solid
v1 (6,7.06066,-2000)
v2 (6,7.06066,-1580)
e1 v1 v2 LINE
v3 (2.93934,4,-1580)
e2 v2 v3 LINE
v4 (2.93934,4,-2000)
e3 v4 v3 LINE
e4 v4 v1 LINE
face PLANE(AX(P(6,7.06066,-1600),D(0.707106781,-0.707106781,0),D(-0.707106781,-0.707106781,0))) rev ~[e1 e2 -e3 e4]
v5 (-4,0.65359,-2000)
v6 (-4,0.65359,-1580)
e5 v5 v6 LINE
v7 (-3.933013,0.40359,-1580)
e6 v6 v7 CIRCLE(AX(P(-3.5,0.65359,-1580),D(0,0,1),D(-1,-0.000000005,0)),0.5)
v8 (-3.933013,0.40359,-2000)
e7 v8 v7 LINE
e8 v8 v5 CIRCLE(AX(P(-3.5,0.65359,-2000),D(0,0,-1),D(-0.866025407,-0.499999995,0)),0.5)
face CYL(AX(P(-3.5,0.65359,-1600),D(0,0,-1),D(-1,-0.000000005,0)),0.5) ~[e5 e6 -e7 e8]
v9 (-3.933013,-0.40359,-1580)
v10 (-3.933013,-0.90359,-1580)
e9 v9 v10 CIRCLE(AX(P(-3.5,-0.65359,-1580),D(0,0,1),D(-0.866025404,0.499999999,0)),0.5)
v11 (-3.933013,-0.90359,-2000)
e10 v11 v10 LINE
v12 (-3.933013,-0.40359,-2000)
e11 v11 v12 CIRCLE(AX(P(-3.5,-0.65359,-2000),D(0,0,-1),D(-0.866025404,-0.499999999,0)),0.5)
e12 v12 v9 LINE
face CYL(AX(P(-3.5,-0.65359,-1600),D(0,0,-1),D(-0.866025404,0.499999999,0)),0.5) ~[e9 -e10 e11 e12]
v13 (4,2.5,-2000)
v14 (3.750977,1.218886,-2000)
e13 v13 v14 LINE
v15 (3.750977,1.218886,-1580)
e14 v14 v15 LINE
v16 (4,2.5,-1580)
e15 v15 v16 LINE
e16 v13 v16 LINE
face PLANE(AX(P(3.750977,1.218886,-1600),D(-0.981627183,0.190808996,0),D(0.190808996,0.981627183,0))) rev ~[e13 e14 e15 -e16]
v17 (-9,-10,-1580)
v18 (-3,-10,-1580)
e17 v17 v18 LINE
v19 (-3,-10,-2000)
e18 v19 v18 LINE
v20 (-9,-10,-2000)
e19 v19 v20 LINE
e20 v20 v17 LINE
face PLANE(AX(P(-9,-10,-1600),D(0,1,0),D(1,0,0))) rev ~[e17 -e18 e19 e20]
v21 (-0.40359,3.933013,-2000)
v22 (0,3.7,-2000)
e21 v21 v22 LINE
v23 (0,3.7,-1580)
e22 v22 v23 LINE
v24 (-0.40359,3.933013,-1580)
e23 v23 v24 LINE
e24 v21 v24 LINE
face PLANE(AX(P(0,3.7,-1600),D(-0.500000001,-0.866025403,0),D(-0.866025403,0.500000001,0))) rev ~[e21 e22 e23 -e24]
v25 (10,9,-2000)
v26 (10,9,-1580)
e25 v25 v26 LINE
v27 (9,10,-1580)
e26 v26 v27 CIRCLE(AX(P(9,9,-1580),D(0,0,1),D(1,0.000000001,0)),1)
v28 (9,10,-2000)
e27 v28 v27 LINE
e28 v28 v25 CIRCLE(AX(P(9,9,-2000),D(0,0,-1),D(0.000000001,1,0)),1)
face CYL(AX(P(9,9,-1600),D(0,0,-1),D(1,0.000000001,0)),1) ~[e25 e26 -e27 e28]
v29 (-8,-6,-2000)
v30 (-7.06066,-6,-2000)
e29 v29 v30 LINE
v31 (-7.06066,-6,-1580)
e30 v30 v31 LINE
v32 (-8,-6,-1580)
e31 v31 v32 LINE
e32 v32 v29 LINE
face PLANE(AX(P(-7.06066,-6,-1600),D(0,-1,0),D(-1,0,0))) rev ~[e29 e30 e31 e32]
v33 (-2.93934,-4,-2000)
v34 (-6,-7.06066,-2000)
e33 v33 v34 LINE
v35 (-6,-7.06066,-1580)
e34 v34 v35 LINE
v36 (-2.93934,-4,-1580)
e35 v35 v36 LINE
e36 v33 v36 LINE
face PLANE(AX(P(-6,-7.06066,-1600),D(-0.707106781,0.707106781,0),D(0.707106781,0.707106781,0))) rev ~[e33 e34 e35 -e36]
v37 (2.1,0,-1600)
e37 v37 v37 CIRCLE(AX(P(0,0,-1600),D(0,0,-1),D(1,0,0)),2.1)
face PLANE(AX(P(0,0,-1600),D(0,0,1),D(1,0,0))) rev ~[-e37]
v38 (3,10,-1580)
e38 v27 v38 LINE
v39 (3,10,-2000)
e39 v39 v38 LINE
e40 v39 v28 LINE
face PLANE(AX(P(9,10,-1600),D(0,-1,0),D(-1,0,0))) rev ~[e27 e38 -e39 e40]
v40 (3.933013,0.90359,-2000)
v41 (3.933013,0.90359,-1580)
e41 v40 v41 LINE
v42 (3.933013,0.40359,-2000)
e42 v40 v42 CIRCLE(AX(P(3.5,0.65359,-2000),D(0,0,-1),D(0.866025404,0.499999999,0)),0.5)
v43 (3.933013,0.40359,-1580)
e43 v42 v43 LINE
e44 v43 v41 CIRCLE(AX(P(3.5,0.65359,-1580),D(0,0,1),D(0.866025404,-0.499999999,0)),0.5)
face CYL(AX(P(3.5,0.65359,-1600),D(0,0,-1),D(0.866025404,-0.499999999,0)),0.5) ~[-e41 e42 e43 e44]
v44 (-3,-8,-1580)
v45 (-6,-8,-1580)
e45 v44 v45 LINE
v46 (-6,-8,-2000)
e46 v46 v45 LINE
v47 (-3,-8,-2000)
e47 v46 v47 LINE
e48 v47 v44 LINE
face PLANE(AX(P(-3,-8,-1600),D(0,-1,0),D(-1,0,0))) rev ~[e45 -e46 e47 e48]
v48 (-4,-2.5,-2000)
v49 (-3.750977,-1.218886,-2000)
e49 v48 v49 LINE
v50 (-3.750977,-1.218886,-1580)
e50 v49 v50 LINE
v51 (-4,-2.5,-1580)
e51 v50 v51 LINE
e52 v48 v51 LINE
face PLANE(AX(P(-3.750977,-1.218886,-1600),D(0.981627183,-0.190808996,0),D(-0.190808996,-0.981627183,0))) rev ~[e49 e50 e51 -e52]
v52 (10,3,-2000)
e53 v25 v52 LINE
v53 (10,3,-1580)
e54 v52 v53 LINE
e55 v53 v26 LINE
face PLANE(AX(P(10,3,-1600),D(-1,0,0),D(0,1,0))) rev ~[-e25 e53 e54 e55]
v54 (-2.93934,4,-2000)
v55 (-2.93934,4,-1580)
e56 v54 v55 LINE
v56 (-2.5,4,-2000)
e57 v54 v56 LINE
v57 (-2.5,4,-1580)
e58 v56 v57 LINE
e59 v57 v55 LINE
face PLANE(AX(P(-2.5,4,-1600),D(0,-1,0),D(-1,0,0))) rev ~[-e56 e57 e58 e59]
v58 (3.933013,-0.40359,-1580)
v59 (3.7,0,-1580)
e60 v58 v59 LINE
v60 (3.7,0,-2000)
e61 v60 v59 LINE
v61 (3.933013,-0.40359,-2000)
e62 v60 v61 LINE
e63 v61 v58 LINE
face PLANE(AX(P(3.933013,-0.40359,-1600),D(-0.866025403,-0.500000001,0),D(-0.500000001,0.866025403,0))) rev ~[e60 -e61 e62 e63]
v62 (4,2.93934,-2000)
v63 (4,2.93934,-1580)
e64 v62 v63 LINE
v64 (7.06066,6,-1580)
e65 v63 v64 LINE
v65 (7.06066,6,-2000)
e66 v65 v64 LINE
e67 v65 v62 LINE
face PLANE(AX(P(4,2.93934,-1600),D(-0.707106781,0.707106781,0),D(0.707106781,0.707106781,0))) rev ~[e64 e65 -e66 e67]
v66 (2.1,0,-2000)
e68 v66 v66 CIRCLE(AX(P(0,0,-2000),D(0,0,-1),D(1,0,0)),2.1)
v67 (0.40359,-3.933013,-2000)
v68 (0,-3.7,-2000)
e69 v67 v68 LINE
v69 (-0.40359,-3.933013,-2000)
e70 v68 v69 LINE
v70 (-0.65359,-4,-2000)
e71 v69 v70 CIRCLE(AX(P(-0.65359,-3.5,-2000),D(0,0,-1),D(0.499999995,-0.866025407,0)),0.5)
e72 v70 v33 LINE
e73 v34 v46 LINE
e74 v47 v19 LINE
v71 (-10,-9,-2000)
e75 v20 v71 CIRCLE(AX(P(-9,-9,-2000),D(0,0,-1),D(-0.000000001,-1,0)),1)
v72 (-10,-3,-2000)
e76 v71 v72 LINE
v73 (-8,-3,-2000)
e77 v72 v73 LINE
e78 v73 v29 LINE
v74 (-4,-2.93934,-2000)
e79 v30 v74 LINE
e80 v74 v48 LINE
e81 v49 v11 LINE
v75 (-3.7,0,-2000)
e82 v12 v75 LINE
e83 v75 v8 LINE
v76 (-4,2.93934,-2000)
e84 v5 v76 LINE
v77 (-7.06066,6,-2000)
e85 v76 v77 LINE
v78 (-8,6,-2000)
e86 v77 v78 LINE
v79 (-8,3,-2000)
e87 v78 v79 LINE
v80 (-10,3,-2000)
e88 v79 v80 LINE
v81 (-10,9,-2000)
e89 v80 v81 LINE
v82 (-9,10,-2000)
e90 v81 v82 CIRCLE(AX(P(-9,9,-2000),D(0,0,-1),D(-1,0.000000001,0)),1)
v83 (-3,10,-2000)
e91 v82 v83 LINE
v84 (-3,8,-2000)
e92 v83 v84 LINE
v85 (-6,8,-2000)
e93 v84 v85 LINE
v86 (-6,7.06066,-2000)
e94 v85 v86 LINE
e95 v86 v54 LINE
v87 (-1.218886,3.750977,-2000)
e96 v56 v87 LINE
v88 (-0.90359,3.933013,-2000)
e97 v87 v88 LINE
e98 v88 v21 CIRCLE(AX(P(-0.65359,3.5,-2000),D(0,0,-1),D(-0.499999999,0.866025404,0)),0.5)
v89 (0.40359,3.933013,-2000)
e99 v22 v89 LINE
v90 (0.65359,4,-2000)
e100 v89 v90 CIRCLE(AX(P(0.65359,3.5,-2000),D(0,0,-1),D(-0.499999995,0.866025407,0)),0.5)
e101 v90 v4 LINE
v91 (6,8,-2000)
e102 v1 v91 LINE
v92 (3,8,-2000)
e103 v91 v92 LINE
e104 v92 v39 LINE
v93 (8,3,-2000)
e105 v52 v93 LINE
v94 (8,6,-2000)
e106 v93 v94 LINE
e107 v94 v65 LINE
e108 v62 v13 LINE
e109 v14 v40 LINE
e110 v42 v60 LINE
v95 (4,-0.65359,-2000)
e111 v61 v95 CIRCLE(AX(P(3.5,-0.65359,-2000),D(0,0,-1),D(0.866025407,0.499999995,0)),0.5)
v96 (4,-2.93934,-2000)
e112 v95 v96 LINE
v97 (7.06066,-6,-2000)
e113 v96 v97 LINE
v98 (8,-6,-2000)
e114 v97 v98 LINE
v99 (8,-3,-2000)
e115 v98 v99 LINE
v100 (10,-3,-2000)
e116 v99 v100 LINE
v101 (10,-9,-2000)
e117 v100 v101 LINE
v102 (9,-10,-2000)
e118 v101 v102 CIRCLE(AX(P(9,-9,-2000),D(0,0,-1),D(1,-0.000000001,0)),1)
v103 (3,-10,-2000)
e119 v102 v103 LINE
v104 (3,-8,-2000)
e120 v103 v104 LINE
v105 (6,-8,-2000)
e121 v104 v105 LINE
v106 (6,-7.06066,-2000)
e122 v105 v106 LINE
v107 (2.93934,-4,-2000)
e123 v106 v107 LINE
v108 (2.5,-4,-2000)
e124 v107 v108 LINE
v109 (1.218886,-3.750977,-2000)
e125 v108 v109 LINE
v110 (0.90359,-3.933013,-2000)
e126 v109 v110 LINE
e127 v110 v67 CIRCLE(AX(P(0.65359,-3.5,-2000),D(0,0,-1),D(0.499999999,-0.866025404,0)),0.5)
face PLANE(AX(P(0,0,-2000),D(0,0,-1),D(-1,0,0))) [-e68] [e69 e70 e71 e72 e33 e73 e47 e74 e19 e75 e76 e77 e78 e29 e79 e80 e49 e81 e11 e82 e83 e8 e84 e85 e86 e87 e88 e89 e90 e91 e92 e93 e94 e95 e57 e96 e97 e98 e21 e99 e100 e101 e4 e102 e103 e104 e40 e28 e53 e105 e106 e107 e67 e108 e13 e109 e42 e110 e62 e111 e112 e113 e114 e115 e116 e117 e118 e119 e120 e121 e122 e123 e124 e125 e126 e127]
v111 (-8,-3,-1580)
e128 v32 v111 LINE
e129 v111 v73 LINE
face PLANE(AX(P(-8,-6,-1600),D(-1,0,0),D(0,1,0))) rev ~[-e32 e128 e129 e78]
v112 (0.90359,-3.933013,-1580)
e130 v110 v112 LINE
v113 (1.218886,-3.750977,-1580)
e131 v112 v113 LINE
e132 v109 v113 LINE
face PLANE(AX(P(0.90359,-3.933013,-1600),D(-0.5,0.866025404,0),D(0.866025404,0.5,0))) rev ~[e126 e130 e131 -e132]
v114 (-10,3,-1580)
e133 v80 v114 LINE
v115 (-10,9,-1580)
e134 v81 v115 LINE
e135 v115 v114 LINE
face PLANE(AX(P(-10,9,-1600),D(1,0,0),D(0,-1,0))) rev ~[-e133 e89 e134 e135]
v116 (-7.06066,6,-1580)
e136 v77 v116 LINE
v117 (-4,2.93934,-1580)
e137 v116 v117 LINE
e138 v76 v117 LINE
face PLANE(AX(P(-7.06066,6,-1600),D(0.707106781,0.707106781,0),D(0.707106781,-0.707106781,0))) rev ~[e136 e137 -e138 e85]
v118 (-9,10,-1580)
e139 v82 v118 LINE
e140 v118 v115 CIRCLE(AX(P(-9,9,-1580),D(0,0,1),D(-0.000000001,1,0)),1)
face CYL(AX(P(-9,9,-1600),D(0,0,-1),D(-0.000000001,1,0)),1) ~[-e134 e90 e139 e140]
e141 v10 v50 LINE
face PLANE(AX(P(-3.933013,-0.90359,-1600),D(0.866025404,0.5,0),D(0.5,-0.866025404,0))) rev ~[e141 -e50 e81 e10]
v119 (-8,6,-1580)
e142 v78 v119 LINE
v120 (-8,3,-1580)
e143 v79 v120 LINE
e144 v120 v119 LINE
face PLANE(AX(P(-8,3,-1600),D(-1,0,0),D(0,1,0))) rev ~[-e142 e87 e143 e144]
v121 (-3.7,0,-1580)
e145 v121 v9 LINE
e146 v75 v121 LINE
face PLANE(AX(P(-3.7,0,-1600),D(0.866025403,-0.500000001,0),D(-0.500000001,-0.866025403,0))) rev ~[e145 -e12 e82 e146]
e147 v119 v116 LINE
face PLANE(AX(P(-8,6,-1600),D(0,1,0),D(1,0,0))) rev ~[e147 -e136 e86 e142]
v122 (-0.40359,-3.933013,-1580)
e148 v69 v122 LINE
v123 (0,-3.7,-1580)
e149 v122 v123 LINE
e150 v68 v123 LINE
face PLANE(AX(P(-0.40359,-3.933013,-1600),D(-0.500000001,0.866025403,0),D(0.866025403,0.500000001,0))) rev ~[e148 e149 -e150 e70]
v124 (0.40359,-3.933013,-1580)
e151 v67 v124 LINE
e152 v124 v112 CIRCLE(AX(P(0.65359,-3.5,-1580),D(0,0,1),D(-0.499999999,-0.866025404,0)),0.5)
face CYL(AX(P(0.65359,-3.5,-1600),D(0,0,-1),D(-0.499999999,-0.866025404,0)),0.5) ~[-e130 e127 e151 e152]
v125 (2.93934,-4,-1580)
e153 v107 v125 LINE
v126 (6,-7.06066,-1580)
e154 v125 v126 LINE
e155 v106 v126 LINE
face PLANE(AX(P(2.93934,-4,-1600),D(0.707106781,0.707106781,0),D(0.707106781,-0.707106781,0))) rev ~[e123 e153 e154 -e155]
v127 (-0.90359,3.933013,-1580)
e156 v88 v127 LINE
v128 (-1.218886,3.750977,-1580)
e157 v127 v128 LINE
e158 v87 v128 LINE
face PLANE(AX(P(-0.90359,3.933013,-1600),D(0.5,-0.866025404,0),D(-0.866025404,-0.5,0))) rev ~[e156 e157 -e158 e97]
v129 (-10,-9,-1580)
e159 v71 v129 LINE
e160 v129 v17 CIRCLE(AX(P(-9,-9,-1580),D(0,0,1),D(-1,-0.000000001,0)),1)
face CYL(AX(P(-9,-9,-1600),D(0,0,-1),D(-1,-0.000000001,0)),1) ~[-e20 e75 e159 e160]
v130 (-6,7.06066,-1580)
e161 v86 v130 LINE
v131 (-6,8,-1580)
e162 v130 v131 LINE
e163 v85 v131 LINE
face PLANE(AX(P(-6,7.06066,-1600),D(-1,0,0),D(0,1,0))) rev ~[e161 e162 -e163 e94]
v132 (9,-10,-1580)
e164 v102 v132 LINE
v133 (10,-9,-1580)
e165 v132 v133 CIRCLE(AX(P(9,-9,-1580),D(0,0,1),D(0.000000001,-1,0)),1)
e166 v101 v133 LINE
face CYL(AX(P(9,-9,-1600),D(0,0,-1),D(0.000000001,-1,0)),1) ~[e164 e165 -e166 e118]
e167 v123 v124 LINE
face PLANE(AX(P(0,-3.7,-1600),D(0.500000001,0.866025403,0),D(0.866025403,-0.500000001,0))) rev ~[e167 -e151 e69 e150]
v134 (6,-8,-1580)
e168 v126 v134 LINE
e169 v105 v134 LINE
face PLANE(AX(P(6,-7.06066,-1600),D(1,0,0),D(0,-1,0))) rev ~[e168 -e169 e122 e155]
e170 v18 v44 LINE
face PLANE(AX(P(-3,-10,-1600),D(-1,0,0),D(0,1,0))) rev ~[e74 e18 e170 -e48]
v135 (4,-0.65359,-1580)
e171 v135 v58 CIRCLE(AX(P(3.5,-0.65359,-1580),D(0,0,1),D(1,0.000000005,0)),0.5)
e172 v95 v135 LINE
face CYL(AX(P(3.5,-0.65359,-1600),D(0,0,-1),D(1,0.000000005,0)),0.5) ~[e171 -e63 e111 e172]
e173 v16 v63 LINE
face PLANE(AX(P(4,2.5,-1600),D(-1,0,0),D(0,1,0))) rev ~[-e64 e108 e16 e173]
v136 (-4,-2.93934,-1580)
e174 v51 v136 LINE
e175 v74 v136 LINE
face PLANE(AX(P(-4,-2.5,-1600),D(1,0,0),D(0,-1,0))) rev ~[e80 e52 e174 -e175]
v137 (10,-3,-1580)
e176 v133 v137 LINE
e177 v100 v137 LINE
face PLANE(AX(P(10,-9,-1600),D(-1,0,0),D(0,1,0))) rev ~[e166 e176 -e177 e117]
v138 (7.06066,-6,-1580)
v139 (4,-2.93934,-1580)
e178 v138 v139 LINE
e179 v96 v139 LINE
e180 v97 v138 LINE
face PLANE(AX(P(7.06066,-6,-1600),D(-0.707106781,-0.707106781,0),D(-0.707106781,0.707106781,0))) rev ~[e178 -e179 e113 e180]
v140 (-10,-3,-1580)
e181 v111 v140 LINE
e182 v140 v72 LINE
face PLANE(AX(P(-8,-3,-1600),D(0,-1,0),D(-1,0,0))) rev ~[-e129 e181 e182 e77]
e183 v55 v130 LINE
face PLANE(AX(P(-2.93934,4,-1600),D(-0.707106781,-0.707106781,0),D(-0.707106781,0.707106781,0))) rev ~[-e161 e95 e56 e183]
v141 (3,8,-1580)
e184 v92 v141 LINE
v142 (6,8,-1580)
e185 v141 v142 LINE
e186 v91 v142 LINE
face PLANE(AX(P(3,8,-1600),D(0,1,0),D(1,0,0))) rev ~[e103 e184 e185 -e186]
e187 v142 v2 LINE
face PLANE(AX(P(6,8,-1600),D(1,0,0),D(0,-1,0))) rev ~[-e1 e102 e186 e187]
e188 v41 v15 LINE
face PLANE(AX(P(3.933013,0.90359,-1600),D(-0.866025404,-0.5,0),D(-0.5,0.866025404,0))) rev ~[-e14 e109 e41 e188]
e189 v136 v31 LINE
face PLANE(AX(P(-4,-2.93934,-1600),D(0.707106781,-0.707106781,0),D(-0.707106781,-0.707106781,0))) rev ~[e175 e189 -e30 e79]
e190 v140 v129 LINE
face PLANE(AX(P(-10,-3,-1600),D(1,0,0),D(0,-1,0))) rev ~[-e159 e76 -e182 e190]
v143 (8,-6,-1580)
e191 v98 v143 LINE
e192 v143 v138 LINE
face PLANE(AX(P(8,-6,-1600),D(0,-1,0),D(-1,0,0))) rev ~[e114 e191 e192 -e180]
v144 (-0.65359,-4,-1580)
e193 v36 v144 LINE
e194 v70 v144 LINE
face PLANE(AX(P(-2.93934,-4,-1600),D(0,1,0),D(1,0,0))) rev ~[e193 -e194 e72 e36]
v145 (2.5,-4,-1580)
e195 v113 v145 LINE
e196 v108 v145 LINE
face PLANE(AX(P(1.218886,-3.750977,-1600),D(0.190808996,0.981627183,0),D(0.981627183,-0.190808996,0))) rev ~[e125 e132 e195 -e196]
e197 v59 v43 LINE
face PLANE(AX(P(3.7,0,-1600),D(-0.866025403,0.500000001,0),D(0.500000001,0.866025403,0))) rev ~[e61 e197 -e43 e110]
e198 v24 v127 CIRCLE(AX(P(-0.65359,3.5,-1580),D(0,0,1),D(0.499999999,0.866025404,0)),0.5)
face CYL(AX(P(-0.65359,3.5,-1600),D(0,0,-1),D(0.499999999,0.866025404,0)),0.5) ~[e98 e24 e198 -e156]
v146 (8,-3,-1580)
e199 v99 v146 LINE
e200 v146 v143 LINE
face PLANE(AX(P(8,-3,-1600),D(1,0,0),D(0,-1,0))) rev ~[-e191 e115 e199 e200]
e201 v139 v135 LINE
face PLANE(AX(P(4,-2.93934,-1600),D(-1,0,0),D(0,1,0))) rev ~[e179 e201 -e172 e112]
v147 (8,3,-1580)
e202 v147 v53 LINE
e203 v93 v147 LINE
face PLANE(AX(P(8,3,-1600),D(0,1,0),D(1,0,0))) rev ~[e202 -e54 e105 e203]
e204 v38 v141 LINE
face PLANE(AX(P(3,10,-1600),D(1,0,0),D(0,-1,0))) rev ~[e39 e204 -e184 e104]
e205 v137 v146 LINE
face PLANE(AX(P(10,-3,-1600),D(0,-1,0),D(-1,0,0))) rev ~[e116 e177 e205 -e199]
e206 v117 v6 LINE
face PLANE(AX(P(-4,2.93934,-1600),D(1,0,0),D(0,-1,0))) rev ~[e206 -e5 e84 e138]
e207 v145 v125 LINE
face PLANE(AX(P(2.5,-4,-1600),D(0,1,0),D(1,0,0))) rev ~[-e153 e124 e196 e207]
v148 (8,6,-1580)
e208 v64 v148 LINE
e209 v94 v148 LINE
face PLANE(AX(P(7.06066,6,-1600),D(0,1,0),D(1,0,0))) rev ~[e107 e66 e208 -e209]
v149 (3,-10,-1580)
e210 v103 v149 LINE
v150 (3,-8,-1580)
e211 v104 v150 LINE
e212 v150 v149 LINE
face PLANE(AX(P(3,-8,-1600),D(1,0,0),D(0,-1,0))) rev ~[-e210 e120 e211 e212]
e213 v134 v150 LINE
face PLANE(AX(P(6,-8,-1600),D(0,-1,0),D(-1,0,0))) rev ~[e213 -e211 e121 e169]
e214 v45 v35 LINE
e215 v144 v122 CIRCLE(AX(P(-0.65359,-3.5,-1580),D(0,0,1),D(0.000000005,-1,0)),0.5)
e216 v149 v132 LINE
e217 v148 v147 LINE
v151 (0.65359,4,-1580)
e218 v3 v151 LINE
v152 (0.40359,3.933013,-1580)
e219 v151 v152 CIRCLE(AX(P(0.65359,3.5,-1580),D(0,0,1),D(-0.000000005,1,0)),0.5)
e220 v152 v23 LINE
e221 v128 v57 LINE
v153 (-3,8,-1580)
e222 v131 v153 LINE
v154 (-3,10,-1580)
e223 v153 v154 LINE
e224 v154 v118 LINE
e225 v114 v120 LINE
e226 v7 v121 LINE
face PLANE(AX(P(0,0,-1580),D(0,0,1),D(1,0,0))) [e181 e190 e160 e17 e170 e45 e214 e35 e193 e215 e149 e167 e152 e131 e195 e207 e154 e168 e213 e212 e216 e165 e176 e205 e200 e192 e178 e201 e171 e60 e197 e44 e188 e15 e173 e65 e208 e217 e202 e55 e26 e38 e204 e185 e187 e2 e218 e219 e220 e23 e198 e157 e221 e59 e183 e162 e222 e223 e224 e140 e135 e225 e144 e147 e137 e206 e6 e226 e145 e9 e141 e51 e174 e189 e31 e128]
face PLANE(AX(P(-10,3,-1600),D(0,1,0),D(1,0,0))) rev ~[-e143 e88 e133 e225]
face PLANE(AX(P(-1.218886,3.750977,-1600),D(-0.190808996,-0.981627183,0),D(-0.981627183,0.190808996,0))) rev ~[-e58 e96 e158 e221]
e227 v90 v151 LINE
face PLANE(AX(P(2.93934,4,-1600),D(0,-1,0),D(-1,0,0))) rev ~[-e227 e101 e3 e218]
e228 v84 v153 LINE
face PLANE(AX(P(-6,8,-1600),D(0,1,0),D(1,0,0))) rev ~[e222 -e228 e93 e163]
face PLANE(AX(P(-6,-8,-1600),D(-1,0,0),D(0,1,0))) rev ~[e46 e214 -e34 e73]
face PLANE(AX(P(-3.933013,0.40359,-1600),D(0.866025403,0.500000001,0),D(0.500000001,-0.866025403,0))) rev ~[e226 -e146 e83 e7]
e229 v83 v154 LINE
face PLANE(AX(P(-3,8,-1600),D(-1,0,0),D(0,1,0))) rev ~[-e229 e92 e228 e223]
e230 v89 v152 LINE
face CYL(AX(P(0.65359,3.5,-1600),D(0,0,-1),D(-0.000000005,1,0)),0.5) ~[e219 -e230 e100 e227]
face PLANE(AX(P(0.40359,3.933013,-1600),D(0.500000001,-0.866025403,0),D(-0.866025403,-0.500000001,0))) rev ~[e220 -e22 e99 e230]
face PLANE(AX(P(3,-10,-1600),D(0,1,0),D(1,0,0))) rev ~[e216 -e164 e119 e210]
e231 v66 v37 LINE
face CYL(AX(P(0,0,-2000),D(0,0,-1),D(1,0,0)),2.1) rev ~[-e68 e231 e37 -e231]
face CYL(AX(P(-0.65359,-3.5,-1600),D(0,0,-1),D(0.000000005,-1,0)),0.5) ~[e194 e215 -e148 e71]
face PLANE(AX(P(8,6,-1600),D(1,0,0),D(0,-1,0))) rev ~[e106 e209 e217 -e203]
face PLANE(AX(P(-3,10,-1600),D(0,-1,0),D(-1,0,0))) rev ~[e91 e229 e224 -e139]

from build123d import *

# Parameters (mm, degrees)
SKETCH1_R           = 2.1
BOSS_EXTRUDE1_DEPTH = 400
EXTRUDE_1_DEPTH     = 20


with BuildPart() as part:
    # Sketch1 → Boss-Extrude1 (new body)
    with BuildSketch(Plane(origin=(0, 0, -2000), x_dir=(-1, 0, 0), z_dir=(0, 0, -1))):
        with BuildLine():
            Line((10, -3), (8, -3))
            Line((8, -3), (8, -6))
            Line((8, -6), (7.060660172, -6))
            Line((7.060660172, -6), (4, -2.939339828))
            Line((4, -2.939339828), (4, -2.5))
            Line((4, -2.5), (3.750976592, -1.218885629))
            Line((3.750976592, -1.218885629), (3.933012702, -0.903589838))
            ThreePointArc((3.933012702, -0.903589838), (4, -0.653589838), (3.933012702, -0.403589838))
            Line((3.933012702, -0.403589838), (3.7, 0))
            Line((3.7, 0), (3.933012702, 0.403589838))
            ThreePointArc((3.933012702, 0.403589838), (3.982962913, 0.524180316), (4, 0.653589838))
            Line((4, 0.653589838), (4, 2.939339828))
            Line((4, 2.939339828), (7.060660172, 6))
            Line((7.060660172, 6), (8, 6))
            Line((8, 6), (8, 3))
            Line((8, 3), (10, 3))
            Line((10, 3), (10, 9))
            ThreePointArc((10, 9), (9.707106781, 9.707106781), (9, 10))
            Line((9, 10), (3, 10))
            Line((3, 10), (3, 8))
            Line((3, 8), (6, 8))
            Line((6, 8), (6, 7.060660172))
            Line((6, 7.060660172), (2.939339828, 4))
            Line((2.939339828, 4), (2.5, 4))
            Line((2.5, 4), (1.218885629, 3.750976592))
            Line((1.218885629, 3.750976592), (0.903589838, 3.933012702))
            ThreePointArc((0.903589838, 3.933012702), (0.653589838, 4), (0.403589838, 3.933012702))
            Line((0.403589838, 3.933012702), (0, 3.7))
            Line((0, 3.7), (-0.403589838, 3.933012702))
            ThreePointArc((-0.403589838, 3.933012702), (-0.524180316, 3.982962913), (-0.653589838, 4))
            Line((-0.653589838, 4), (-2.939339828, 4))
            Line((-2.939339828, 4), (-6, 7.060660172))
            Line((-6, 7.060660172), (-6, 8))
            Line((-6, 8), (-3, 8))
            Line((-3, 8), (-3, 10))
            Line((-3, 10), (-9, 10))
            ThreePointArc((-9, 10), (-9.707106781, 9.707106781), (-10, 9))
            Line((-10, 9), (-10, 3))
            Line((-10, 3), (-8, 3))
            Line((-8, 3), (-8, 6))
            Line((-8, 6), (-7.060660172, 6))
            Line((-7.060660172, 6), (-4, 2.939339828))
            Line((-4, 2.939339828), (-4, 2.5))
            Line((-4, 2.5), (-3.750976592, 1.218885629))
            Line((-3.750976592, 1.218885629), (-3.933012702, 0.903589838))
            ThreePointArc((-3.933012702, 0.903589838), (-4, 0.653589838), (-3.933012702, 0.403589838))
            Line((-3.933012702, 0.403589838), (-3.7, 0))
            Line((-3.7, 0), (-3.933012702, -0.403589838))
            ThreePointArc((-3.933012702, -0.403589838), (-3.982962913, -0.524180316), (-4, -0.653589838))
            Line((-4, -0.653589838), (-4, -2.939339828))
            Line((-4, -2.939339828), (-7.060660172, -6))
            Line((-7.060660172, -6), (-8, -6))
            Line((-8, -6), (-8, -3))
            Line((-8, -3), (-10, -3))
            Line((-10, -3), (-10, -9))
            ThreePointArc((-10, -9), (-9.707106781, -9.707106781), (-9, -10))
            Line((-9, -10), (-3, -10))
            Line((-3, -10), (-3, -8))
            Line((-3, -8), (-6, -8))
            Line((-6, -8), (-6, -7.060660172))
            Line((-6, -7.060660172), (-2.939339828, -4))
            Line((-2.939339828, -4), (-2.5, -4))
            Line((-2.5, -4), (-1.218885629, -3.750976592))
            Line((-1.218885629, -3.750976592), (-0.903589838, -3.933012702))
            ThreePointArc((-0.903589838, -3.933012702), (-0.653589838, -4), (-0.403589838, -3.933012702))
            Line((-0.403589838, -3.933012702), (0, -3.7))
            Line((0, -3.7), (0.403589838, -3.933012702))
            ThreePointArc((0.403589838, -3.933012702), (0.524180316, -3.982962913), (0.653589838, -4))
            Line((0.653589838, -4), (2.939339828, -4))
            Line((2.939339828, -4), (6, -7.060660172))
            Line((6, -7.060660172), (6, -8))
            Line((6, -8), (3, -8))
            Line((3, -8), (3, -10))
            Line((3, -10), (9, -10))
            ThreePointArc((9, -10), (9.707106781, -9.707106781), (10, -9))
            Line((10, -9), (10, -3))
        make_face()
        with Locations(Location((0, 0, 0), (0, 0, 180))):
            Circle(SKETCH1_R, mode=Mode.SUBTRACT)
    extrude(amount=-BOSS_EXTRUDE1_DEPTH)

    # 草图1 → 凸台-拉伸1 (add)
    with BuildSketch(Plane.XY.offset(-1600)):
        with BuildLine():
            Line((-10, -3), (-10, -9))
            ThreePointArc((-10, -9), (-9.707106781, -9.707106781), (-9, -10))
            Line((-9, -10), (-3, -10))
            Line((-3, -10), (-3, -8))
            Line((-3, -8), (-6, -8))
            Line((-6, -8), (-6, -7.060660172))
            Line((-6, -7.060660172), (-2.939339828, -4))
            Line((-2.939339828, -4), (-0.653589838, -4))
            ThreePointArc((-0.653589838, -4), (-0.524180316, -3.982962913), (-0.403589838, -3.933012702))
            Line((-0.403589838, -3.933012702), (0, -3.7))
            Line((0, -3.7), (0.403589838, -3.933012702))
            ThreePointArc((0.403589838, -3.933012702), (0.653589838, -4), (0.903589838, -3.933012702))
            Line((0.903589838, -3.933012702), (1.218885629, -3.750976592))
            Line((1.218885629, -3.750976592), (2.5, -4))
            Line((2.5, -4), (2.939339828, -4))
            Line((2.939339828, -4), (6, -7.060660172))
            Line((6, -7.060660172), (6, -8))
            Line((6, -8), (3, -8))
            Line((3, -8), (3, -10))
            Line((3, -10), (9, -10))
            ThreePointArc((9, -10), (9.707106781, -9.707106781), (10, -9))
            Line((10, -9), (10, -3))
            Line((10, -3), (8, -3))
            Line((8, -3), (8, -6))
            Line((8, -6), (7.060660172, -6))
            Line((7.060660172, -6), (4, -2.939339828))
            Line((4, -2.939339828), (4, -0.653589838))
            ThreePointArc((4, -0.653589838), (3.982962913, -0.524180316), (3.933012702, -0.403589838))
            Line((3.933012702, -0.403589838), (3.7, 0))
            Line((3.7, 0), (3.933012702, 0.403589838))
            ThreePointArc((3.933012702, 0.403589838), (4, 0.653589838), (3.933012702, 0.903589838))
            Line((3.933012702, 0.903589838), (3.750976592, 1.218885629))
            Line((3.750976592, 1.218885629), (4, 2.5))
            Line((4, 2.5), (4, 2.939339828))
            Line((4, 2.939339828), (7.060660172, 6))
            Line((7.060660172, 6), (8, 6))
            Line((8, 6), (8, 3))
            Line((8, 3), (10, 3))
            Line((10, 3), (10, 9))
            ThreePointArc((10, 9), (9.707106781, 9.707106781), (9, 10))
            Line((9, 10), (3, 10))
            Line((3, 10), (3, 8))
            Line((3, 8), (6, 8))
            Line((6, 8), (6, 7.060660172))
            Line((6, 7.060660172), (2.939339828, 4))
            Line((2.939339828, 4), (0.653589838, 4))
            ThreePointArc((0.653589838, 4), (0.524180316, 3.982962913), (0.403589838, 3.933012702))
            Line((0.403589838, 3.933012702), (0, 3.7))
            Line((0, 3.7), (-0.403589838, 3.933012702))
            ThreePointArc((-0.403589838, 3.933012702), (-0.653589838, 4), (-0.903589838, 3.933012702))
            Line((-0.903589838, 3.933012702), (-1.218885629, 3.750976592))
            Line((-1.218885629, 3.750976592), (-2.5, 4))
            Line((-2.5, 4), (-2.939339828, 4))
            Line((-2.939339828, 4), (-6, 7.060660172))
            Line((-6, 7.060660172), (-6, 8))
            Line((-6, 8), (-3, 8))
            Line((-3, 8), (-3, 10))
            Line((-3, 10), (-9, 10))
            ThreePointArc((-9, 10), (-9.707106781, 9.707106781), (-10, 9))
            Line((-10, 9), (-10, 3))
            Line((-10, 3), (-8, 3))
            Line((-8, 3), (-8, 6))
            Line((-8, 6), (-7.060660172, 6))
            Line((-7.060660172, 6), (-4, 2.939339828))
            Line((-4, 2.939339828), (-4, 0.653589838))
            ThreePointArc((-4, 0.653589838), (-3.982962913, 0.524180316), (-3.933012702, 0.403589838))
            Line((-3.933012702, 0.403589838), (-3.7, 0))
            Line((-3.7, 0), (-3.933012702, -0.403589838))
            ThreePointArc((-3.933012702, -0.403589838), (-4, -0.653589838), (-3.933012702, -0.903589838))
            Line((-3.933012702, -0.903589838), (-3.750976592, -1.218885629))
            Line((-3.750976592, -1.218885629), (-4, -2.5))
            Line((-4, -2.5), (-4, -2.939339828))
            Line((-4, -2.939339828), (-7.060660172, -6))
            Line((-7.060660172, -6), (-8, -6))
            Line((-8, -6), (-8, -3))
            Line((-8, -3), (-10, -3))
        make_face()
    extrude(amount=EXTRUDE_1_DEPTH)


solid = part.part
